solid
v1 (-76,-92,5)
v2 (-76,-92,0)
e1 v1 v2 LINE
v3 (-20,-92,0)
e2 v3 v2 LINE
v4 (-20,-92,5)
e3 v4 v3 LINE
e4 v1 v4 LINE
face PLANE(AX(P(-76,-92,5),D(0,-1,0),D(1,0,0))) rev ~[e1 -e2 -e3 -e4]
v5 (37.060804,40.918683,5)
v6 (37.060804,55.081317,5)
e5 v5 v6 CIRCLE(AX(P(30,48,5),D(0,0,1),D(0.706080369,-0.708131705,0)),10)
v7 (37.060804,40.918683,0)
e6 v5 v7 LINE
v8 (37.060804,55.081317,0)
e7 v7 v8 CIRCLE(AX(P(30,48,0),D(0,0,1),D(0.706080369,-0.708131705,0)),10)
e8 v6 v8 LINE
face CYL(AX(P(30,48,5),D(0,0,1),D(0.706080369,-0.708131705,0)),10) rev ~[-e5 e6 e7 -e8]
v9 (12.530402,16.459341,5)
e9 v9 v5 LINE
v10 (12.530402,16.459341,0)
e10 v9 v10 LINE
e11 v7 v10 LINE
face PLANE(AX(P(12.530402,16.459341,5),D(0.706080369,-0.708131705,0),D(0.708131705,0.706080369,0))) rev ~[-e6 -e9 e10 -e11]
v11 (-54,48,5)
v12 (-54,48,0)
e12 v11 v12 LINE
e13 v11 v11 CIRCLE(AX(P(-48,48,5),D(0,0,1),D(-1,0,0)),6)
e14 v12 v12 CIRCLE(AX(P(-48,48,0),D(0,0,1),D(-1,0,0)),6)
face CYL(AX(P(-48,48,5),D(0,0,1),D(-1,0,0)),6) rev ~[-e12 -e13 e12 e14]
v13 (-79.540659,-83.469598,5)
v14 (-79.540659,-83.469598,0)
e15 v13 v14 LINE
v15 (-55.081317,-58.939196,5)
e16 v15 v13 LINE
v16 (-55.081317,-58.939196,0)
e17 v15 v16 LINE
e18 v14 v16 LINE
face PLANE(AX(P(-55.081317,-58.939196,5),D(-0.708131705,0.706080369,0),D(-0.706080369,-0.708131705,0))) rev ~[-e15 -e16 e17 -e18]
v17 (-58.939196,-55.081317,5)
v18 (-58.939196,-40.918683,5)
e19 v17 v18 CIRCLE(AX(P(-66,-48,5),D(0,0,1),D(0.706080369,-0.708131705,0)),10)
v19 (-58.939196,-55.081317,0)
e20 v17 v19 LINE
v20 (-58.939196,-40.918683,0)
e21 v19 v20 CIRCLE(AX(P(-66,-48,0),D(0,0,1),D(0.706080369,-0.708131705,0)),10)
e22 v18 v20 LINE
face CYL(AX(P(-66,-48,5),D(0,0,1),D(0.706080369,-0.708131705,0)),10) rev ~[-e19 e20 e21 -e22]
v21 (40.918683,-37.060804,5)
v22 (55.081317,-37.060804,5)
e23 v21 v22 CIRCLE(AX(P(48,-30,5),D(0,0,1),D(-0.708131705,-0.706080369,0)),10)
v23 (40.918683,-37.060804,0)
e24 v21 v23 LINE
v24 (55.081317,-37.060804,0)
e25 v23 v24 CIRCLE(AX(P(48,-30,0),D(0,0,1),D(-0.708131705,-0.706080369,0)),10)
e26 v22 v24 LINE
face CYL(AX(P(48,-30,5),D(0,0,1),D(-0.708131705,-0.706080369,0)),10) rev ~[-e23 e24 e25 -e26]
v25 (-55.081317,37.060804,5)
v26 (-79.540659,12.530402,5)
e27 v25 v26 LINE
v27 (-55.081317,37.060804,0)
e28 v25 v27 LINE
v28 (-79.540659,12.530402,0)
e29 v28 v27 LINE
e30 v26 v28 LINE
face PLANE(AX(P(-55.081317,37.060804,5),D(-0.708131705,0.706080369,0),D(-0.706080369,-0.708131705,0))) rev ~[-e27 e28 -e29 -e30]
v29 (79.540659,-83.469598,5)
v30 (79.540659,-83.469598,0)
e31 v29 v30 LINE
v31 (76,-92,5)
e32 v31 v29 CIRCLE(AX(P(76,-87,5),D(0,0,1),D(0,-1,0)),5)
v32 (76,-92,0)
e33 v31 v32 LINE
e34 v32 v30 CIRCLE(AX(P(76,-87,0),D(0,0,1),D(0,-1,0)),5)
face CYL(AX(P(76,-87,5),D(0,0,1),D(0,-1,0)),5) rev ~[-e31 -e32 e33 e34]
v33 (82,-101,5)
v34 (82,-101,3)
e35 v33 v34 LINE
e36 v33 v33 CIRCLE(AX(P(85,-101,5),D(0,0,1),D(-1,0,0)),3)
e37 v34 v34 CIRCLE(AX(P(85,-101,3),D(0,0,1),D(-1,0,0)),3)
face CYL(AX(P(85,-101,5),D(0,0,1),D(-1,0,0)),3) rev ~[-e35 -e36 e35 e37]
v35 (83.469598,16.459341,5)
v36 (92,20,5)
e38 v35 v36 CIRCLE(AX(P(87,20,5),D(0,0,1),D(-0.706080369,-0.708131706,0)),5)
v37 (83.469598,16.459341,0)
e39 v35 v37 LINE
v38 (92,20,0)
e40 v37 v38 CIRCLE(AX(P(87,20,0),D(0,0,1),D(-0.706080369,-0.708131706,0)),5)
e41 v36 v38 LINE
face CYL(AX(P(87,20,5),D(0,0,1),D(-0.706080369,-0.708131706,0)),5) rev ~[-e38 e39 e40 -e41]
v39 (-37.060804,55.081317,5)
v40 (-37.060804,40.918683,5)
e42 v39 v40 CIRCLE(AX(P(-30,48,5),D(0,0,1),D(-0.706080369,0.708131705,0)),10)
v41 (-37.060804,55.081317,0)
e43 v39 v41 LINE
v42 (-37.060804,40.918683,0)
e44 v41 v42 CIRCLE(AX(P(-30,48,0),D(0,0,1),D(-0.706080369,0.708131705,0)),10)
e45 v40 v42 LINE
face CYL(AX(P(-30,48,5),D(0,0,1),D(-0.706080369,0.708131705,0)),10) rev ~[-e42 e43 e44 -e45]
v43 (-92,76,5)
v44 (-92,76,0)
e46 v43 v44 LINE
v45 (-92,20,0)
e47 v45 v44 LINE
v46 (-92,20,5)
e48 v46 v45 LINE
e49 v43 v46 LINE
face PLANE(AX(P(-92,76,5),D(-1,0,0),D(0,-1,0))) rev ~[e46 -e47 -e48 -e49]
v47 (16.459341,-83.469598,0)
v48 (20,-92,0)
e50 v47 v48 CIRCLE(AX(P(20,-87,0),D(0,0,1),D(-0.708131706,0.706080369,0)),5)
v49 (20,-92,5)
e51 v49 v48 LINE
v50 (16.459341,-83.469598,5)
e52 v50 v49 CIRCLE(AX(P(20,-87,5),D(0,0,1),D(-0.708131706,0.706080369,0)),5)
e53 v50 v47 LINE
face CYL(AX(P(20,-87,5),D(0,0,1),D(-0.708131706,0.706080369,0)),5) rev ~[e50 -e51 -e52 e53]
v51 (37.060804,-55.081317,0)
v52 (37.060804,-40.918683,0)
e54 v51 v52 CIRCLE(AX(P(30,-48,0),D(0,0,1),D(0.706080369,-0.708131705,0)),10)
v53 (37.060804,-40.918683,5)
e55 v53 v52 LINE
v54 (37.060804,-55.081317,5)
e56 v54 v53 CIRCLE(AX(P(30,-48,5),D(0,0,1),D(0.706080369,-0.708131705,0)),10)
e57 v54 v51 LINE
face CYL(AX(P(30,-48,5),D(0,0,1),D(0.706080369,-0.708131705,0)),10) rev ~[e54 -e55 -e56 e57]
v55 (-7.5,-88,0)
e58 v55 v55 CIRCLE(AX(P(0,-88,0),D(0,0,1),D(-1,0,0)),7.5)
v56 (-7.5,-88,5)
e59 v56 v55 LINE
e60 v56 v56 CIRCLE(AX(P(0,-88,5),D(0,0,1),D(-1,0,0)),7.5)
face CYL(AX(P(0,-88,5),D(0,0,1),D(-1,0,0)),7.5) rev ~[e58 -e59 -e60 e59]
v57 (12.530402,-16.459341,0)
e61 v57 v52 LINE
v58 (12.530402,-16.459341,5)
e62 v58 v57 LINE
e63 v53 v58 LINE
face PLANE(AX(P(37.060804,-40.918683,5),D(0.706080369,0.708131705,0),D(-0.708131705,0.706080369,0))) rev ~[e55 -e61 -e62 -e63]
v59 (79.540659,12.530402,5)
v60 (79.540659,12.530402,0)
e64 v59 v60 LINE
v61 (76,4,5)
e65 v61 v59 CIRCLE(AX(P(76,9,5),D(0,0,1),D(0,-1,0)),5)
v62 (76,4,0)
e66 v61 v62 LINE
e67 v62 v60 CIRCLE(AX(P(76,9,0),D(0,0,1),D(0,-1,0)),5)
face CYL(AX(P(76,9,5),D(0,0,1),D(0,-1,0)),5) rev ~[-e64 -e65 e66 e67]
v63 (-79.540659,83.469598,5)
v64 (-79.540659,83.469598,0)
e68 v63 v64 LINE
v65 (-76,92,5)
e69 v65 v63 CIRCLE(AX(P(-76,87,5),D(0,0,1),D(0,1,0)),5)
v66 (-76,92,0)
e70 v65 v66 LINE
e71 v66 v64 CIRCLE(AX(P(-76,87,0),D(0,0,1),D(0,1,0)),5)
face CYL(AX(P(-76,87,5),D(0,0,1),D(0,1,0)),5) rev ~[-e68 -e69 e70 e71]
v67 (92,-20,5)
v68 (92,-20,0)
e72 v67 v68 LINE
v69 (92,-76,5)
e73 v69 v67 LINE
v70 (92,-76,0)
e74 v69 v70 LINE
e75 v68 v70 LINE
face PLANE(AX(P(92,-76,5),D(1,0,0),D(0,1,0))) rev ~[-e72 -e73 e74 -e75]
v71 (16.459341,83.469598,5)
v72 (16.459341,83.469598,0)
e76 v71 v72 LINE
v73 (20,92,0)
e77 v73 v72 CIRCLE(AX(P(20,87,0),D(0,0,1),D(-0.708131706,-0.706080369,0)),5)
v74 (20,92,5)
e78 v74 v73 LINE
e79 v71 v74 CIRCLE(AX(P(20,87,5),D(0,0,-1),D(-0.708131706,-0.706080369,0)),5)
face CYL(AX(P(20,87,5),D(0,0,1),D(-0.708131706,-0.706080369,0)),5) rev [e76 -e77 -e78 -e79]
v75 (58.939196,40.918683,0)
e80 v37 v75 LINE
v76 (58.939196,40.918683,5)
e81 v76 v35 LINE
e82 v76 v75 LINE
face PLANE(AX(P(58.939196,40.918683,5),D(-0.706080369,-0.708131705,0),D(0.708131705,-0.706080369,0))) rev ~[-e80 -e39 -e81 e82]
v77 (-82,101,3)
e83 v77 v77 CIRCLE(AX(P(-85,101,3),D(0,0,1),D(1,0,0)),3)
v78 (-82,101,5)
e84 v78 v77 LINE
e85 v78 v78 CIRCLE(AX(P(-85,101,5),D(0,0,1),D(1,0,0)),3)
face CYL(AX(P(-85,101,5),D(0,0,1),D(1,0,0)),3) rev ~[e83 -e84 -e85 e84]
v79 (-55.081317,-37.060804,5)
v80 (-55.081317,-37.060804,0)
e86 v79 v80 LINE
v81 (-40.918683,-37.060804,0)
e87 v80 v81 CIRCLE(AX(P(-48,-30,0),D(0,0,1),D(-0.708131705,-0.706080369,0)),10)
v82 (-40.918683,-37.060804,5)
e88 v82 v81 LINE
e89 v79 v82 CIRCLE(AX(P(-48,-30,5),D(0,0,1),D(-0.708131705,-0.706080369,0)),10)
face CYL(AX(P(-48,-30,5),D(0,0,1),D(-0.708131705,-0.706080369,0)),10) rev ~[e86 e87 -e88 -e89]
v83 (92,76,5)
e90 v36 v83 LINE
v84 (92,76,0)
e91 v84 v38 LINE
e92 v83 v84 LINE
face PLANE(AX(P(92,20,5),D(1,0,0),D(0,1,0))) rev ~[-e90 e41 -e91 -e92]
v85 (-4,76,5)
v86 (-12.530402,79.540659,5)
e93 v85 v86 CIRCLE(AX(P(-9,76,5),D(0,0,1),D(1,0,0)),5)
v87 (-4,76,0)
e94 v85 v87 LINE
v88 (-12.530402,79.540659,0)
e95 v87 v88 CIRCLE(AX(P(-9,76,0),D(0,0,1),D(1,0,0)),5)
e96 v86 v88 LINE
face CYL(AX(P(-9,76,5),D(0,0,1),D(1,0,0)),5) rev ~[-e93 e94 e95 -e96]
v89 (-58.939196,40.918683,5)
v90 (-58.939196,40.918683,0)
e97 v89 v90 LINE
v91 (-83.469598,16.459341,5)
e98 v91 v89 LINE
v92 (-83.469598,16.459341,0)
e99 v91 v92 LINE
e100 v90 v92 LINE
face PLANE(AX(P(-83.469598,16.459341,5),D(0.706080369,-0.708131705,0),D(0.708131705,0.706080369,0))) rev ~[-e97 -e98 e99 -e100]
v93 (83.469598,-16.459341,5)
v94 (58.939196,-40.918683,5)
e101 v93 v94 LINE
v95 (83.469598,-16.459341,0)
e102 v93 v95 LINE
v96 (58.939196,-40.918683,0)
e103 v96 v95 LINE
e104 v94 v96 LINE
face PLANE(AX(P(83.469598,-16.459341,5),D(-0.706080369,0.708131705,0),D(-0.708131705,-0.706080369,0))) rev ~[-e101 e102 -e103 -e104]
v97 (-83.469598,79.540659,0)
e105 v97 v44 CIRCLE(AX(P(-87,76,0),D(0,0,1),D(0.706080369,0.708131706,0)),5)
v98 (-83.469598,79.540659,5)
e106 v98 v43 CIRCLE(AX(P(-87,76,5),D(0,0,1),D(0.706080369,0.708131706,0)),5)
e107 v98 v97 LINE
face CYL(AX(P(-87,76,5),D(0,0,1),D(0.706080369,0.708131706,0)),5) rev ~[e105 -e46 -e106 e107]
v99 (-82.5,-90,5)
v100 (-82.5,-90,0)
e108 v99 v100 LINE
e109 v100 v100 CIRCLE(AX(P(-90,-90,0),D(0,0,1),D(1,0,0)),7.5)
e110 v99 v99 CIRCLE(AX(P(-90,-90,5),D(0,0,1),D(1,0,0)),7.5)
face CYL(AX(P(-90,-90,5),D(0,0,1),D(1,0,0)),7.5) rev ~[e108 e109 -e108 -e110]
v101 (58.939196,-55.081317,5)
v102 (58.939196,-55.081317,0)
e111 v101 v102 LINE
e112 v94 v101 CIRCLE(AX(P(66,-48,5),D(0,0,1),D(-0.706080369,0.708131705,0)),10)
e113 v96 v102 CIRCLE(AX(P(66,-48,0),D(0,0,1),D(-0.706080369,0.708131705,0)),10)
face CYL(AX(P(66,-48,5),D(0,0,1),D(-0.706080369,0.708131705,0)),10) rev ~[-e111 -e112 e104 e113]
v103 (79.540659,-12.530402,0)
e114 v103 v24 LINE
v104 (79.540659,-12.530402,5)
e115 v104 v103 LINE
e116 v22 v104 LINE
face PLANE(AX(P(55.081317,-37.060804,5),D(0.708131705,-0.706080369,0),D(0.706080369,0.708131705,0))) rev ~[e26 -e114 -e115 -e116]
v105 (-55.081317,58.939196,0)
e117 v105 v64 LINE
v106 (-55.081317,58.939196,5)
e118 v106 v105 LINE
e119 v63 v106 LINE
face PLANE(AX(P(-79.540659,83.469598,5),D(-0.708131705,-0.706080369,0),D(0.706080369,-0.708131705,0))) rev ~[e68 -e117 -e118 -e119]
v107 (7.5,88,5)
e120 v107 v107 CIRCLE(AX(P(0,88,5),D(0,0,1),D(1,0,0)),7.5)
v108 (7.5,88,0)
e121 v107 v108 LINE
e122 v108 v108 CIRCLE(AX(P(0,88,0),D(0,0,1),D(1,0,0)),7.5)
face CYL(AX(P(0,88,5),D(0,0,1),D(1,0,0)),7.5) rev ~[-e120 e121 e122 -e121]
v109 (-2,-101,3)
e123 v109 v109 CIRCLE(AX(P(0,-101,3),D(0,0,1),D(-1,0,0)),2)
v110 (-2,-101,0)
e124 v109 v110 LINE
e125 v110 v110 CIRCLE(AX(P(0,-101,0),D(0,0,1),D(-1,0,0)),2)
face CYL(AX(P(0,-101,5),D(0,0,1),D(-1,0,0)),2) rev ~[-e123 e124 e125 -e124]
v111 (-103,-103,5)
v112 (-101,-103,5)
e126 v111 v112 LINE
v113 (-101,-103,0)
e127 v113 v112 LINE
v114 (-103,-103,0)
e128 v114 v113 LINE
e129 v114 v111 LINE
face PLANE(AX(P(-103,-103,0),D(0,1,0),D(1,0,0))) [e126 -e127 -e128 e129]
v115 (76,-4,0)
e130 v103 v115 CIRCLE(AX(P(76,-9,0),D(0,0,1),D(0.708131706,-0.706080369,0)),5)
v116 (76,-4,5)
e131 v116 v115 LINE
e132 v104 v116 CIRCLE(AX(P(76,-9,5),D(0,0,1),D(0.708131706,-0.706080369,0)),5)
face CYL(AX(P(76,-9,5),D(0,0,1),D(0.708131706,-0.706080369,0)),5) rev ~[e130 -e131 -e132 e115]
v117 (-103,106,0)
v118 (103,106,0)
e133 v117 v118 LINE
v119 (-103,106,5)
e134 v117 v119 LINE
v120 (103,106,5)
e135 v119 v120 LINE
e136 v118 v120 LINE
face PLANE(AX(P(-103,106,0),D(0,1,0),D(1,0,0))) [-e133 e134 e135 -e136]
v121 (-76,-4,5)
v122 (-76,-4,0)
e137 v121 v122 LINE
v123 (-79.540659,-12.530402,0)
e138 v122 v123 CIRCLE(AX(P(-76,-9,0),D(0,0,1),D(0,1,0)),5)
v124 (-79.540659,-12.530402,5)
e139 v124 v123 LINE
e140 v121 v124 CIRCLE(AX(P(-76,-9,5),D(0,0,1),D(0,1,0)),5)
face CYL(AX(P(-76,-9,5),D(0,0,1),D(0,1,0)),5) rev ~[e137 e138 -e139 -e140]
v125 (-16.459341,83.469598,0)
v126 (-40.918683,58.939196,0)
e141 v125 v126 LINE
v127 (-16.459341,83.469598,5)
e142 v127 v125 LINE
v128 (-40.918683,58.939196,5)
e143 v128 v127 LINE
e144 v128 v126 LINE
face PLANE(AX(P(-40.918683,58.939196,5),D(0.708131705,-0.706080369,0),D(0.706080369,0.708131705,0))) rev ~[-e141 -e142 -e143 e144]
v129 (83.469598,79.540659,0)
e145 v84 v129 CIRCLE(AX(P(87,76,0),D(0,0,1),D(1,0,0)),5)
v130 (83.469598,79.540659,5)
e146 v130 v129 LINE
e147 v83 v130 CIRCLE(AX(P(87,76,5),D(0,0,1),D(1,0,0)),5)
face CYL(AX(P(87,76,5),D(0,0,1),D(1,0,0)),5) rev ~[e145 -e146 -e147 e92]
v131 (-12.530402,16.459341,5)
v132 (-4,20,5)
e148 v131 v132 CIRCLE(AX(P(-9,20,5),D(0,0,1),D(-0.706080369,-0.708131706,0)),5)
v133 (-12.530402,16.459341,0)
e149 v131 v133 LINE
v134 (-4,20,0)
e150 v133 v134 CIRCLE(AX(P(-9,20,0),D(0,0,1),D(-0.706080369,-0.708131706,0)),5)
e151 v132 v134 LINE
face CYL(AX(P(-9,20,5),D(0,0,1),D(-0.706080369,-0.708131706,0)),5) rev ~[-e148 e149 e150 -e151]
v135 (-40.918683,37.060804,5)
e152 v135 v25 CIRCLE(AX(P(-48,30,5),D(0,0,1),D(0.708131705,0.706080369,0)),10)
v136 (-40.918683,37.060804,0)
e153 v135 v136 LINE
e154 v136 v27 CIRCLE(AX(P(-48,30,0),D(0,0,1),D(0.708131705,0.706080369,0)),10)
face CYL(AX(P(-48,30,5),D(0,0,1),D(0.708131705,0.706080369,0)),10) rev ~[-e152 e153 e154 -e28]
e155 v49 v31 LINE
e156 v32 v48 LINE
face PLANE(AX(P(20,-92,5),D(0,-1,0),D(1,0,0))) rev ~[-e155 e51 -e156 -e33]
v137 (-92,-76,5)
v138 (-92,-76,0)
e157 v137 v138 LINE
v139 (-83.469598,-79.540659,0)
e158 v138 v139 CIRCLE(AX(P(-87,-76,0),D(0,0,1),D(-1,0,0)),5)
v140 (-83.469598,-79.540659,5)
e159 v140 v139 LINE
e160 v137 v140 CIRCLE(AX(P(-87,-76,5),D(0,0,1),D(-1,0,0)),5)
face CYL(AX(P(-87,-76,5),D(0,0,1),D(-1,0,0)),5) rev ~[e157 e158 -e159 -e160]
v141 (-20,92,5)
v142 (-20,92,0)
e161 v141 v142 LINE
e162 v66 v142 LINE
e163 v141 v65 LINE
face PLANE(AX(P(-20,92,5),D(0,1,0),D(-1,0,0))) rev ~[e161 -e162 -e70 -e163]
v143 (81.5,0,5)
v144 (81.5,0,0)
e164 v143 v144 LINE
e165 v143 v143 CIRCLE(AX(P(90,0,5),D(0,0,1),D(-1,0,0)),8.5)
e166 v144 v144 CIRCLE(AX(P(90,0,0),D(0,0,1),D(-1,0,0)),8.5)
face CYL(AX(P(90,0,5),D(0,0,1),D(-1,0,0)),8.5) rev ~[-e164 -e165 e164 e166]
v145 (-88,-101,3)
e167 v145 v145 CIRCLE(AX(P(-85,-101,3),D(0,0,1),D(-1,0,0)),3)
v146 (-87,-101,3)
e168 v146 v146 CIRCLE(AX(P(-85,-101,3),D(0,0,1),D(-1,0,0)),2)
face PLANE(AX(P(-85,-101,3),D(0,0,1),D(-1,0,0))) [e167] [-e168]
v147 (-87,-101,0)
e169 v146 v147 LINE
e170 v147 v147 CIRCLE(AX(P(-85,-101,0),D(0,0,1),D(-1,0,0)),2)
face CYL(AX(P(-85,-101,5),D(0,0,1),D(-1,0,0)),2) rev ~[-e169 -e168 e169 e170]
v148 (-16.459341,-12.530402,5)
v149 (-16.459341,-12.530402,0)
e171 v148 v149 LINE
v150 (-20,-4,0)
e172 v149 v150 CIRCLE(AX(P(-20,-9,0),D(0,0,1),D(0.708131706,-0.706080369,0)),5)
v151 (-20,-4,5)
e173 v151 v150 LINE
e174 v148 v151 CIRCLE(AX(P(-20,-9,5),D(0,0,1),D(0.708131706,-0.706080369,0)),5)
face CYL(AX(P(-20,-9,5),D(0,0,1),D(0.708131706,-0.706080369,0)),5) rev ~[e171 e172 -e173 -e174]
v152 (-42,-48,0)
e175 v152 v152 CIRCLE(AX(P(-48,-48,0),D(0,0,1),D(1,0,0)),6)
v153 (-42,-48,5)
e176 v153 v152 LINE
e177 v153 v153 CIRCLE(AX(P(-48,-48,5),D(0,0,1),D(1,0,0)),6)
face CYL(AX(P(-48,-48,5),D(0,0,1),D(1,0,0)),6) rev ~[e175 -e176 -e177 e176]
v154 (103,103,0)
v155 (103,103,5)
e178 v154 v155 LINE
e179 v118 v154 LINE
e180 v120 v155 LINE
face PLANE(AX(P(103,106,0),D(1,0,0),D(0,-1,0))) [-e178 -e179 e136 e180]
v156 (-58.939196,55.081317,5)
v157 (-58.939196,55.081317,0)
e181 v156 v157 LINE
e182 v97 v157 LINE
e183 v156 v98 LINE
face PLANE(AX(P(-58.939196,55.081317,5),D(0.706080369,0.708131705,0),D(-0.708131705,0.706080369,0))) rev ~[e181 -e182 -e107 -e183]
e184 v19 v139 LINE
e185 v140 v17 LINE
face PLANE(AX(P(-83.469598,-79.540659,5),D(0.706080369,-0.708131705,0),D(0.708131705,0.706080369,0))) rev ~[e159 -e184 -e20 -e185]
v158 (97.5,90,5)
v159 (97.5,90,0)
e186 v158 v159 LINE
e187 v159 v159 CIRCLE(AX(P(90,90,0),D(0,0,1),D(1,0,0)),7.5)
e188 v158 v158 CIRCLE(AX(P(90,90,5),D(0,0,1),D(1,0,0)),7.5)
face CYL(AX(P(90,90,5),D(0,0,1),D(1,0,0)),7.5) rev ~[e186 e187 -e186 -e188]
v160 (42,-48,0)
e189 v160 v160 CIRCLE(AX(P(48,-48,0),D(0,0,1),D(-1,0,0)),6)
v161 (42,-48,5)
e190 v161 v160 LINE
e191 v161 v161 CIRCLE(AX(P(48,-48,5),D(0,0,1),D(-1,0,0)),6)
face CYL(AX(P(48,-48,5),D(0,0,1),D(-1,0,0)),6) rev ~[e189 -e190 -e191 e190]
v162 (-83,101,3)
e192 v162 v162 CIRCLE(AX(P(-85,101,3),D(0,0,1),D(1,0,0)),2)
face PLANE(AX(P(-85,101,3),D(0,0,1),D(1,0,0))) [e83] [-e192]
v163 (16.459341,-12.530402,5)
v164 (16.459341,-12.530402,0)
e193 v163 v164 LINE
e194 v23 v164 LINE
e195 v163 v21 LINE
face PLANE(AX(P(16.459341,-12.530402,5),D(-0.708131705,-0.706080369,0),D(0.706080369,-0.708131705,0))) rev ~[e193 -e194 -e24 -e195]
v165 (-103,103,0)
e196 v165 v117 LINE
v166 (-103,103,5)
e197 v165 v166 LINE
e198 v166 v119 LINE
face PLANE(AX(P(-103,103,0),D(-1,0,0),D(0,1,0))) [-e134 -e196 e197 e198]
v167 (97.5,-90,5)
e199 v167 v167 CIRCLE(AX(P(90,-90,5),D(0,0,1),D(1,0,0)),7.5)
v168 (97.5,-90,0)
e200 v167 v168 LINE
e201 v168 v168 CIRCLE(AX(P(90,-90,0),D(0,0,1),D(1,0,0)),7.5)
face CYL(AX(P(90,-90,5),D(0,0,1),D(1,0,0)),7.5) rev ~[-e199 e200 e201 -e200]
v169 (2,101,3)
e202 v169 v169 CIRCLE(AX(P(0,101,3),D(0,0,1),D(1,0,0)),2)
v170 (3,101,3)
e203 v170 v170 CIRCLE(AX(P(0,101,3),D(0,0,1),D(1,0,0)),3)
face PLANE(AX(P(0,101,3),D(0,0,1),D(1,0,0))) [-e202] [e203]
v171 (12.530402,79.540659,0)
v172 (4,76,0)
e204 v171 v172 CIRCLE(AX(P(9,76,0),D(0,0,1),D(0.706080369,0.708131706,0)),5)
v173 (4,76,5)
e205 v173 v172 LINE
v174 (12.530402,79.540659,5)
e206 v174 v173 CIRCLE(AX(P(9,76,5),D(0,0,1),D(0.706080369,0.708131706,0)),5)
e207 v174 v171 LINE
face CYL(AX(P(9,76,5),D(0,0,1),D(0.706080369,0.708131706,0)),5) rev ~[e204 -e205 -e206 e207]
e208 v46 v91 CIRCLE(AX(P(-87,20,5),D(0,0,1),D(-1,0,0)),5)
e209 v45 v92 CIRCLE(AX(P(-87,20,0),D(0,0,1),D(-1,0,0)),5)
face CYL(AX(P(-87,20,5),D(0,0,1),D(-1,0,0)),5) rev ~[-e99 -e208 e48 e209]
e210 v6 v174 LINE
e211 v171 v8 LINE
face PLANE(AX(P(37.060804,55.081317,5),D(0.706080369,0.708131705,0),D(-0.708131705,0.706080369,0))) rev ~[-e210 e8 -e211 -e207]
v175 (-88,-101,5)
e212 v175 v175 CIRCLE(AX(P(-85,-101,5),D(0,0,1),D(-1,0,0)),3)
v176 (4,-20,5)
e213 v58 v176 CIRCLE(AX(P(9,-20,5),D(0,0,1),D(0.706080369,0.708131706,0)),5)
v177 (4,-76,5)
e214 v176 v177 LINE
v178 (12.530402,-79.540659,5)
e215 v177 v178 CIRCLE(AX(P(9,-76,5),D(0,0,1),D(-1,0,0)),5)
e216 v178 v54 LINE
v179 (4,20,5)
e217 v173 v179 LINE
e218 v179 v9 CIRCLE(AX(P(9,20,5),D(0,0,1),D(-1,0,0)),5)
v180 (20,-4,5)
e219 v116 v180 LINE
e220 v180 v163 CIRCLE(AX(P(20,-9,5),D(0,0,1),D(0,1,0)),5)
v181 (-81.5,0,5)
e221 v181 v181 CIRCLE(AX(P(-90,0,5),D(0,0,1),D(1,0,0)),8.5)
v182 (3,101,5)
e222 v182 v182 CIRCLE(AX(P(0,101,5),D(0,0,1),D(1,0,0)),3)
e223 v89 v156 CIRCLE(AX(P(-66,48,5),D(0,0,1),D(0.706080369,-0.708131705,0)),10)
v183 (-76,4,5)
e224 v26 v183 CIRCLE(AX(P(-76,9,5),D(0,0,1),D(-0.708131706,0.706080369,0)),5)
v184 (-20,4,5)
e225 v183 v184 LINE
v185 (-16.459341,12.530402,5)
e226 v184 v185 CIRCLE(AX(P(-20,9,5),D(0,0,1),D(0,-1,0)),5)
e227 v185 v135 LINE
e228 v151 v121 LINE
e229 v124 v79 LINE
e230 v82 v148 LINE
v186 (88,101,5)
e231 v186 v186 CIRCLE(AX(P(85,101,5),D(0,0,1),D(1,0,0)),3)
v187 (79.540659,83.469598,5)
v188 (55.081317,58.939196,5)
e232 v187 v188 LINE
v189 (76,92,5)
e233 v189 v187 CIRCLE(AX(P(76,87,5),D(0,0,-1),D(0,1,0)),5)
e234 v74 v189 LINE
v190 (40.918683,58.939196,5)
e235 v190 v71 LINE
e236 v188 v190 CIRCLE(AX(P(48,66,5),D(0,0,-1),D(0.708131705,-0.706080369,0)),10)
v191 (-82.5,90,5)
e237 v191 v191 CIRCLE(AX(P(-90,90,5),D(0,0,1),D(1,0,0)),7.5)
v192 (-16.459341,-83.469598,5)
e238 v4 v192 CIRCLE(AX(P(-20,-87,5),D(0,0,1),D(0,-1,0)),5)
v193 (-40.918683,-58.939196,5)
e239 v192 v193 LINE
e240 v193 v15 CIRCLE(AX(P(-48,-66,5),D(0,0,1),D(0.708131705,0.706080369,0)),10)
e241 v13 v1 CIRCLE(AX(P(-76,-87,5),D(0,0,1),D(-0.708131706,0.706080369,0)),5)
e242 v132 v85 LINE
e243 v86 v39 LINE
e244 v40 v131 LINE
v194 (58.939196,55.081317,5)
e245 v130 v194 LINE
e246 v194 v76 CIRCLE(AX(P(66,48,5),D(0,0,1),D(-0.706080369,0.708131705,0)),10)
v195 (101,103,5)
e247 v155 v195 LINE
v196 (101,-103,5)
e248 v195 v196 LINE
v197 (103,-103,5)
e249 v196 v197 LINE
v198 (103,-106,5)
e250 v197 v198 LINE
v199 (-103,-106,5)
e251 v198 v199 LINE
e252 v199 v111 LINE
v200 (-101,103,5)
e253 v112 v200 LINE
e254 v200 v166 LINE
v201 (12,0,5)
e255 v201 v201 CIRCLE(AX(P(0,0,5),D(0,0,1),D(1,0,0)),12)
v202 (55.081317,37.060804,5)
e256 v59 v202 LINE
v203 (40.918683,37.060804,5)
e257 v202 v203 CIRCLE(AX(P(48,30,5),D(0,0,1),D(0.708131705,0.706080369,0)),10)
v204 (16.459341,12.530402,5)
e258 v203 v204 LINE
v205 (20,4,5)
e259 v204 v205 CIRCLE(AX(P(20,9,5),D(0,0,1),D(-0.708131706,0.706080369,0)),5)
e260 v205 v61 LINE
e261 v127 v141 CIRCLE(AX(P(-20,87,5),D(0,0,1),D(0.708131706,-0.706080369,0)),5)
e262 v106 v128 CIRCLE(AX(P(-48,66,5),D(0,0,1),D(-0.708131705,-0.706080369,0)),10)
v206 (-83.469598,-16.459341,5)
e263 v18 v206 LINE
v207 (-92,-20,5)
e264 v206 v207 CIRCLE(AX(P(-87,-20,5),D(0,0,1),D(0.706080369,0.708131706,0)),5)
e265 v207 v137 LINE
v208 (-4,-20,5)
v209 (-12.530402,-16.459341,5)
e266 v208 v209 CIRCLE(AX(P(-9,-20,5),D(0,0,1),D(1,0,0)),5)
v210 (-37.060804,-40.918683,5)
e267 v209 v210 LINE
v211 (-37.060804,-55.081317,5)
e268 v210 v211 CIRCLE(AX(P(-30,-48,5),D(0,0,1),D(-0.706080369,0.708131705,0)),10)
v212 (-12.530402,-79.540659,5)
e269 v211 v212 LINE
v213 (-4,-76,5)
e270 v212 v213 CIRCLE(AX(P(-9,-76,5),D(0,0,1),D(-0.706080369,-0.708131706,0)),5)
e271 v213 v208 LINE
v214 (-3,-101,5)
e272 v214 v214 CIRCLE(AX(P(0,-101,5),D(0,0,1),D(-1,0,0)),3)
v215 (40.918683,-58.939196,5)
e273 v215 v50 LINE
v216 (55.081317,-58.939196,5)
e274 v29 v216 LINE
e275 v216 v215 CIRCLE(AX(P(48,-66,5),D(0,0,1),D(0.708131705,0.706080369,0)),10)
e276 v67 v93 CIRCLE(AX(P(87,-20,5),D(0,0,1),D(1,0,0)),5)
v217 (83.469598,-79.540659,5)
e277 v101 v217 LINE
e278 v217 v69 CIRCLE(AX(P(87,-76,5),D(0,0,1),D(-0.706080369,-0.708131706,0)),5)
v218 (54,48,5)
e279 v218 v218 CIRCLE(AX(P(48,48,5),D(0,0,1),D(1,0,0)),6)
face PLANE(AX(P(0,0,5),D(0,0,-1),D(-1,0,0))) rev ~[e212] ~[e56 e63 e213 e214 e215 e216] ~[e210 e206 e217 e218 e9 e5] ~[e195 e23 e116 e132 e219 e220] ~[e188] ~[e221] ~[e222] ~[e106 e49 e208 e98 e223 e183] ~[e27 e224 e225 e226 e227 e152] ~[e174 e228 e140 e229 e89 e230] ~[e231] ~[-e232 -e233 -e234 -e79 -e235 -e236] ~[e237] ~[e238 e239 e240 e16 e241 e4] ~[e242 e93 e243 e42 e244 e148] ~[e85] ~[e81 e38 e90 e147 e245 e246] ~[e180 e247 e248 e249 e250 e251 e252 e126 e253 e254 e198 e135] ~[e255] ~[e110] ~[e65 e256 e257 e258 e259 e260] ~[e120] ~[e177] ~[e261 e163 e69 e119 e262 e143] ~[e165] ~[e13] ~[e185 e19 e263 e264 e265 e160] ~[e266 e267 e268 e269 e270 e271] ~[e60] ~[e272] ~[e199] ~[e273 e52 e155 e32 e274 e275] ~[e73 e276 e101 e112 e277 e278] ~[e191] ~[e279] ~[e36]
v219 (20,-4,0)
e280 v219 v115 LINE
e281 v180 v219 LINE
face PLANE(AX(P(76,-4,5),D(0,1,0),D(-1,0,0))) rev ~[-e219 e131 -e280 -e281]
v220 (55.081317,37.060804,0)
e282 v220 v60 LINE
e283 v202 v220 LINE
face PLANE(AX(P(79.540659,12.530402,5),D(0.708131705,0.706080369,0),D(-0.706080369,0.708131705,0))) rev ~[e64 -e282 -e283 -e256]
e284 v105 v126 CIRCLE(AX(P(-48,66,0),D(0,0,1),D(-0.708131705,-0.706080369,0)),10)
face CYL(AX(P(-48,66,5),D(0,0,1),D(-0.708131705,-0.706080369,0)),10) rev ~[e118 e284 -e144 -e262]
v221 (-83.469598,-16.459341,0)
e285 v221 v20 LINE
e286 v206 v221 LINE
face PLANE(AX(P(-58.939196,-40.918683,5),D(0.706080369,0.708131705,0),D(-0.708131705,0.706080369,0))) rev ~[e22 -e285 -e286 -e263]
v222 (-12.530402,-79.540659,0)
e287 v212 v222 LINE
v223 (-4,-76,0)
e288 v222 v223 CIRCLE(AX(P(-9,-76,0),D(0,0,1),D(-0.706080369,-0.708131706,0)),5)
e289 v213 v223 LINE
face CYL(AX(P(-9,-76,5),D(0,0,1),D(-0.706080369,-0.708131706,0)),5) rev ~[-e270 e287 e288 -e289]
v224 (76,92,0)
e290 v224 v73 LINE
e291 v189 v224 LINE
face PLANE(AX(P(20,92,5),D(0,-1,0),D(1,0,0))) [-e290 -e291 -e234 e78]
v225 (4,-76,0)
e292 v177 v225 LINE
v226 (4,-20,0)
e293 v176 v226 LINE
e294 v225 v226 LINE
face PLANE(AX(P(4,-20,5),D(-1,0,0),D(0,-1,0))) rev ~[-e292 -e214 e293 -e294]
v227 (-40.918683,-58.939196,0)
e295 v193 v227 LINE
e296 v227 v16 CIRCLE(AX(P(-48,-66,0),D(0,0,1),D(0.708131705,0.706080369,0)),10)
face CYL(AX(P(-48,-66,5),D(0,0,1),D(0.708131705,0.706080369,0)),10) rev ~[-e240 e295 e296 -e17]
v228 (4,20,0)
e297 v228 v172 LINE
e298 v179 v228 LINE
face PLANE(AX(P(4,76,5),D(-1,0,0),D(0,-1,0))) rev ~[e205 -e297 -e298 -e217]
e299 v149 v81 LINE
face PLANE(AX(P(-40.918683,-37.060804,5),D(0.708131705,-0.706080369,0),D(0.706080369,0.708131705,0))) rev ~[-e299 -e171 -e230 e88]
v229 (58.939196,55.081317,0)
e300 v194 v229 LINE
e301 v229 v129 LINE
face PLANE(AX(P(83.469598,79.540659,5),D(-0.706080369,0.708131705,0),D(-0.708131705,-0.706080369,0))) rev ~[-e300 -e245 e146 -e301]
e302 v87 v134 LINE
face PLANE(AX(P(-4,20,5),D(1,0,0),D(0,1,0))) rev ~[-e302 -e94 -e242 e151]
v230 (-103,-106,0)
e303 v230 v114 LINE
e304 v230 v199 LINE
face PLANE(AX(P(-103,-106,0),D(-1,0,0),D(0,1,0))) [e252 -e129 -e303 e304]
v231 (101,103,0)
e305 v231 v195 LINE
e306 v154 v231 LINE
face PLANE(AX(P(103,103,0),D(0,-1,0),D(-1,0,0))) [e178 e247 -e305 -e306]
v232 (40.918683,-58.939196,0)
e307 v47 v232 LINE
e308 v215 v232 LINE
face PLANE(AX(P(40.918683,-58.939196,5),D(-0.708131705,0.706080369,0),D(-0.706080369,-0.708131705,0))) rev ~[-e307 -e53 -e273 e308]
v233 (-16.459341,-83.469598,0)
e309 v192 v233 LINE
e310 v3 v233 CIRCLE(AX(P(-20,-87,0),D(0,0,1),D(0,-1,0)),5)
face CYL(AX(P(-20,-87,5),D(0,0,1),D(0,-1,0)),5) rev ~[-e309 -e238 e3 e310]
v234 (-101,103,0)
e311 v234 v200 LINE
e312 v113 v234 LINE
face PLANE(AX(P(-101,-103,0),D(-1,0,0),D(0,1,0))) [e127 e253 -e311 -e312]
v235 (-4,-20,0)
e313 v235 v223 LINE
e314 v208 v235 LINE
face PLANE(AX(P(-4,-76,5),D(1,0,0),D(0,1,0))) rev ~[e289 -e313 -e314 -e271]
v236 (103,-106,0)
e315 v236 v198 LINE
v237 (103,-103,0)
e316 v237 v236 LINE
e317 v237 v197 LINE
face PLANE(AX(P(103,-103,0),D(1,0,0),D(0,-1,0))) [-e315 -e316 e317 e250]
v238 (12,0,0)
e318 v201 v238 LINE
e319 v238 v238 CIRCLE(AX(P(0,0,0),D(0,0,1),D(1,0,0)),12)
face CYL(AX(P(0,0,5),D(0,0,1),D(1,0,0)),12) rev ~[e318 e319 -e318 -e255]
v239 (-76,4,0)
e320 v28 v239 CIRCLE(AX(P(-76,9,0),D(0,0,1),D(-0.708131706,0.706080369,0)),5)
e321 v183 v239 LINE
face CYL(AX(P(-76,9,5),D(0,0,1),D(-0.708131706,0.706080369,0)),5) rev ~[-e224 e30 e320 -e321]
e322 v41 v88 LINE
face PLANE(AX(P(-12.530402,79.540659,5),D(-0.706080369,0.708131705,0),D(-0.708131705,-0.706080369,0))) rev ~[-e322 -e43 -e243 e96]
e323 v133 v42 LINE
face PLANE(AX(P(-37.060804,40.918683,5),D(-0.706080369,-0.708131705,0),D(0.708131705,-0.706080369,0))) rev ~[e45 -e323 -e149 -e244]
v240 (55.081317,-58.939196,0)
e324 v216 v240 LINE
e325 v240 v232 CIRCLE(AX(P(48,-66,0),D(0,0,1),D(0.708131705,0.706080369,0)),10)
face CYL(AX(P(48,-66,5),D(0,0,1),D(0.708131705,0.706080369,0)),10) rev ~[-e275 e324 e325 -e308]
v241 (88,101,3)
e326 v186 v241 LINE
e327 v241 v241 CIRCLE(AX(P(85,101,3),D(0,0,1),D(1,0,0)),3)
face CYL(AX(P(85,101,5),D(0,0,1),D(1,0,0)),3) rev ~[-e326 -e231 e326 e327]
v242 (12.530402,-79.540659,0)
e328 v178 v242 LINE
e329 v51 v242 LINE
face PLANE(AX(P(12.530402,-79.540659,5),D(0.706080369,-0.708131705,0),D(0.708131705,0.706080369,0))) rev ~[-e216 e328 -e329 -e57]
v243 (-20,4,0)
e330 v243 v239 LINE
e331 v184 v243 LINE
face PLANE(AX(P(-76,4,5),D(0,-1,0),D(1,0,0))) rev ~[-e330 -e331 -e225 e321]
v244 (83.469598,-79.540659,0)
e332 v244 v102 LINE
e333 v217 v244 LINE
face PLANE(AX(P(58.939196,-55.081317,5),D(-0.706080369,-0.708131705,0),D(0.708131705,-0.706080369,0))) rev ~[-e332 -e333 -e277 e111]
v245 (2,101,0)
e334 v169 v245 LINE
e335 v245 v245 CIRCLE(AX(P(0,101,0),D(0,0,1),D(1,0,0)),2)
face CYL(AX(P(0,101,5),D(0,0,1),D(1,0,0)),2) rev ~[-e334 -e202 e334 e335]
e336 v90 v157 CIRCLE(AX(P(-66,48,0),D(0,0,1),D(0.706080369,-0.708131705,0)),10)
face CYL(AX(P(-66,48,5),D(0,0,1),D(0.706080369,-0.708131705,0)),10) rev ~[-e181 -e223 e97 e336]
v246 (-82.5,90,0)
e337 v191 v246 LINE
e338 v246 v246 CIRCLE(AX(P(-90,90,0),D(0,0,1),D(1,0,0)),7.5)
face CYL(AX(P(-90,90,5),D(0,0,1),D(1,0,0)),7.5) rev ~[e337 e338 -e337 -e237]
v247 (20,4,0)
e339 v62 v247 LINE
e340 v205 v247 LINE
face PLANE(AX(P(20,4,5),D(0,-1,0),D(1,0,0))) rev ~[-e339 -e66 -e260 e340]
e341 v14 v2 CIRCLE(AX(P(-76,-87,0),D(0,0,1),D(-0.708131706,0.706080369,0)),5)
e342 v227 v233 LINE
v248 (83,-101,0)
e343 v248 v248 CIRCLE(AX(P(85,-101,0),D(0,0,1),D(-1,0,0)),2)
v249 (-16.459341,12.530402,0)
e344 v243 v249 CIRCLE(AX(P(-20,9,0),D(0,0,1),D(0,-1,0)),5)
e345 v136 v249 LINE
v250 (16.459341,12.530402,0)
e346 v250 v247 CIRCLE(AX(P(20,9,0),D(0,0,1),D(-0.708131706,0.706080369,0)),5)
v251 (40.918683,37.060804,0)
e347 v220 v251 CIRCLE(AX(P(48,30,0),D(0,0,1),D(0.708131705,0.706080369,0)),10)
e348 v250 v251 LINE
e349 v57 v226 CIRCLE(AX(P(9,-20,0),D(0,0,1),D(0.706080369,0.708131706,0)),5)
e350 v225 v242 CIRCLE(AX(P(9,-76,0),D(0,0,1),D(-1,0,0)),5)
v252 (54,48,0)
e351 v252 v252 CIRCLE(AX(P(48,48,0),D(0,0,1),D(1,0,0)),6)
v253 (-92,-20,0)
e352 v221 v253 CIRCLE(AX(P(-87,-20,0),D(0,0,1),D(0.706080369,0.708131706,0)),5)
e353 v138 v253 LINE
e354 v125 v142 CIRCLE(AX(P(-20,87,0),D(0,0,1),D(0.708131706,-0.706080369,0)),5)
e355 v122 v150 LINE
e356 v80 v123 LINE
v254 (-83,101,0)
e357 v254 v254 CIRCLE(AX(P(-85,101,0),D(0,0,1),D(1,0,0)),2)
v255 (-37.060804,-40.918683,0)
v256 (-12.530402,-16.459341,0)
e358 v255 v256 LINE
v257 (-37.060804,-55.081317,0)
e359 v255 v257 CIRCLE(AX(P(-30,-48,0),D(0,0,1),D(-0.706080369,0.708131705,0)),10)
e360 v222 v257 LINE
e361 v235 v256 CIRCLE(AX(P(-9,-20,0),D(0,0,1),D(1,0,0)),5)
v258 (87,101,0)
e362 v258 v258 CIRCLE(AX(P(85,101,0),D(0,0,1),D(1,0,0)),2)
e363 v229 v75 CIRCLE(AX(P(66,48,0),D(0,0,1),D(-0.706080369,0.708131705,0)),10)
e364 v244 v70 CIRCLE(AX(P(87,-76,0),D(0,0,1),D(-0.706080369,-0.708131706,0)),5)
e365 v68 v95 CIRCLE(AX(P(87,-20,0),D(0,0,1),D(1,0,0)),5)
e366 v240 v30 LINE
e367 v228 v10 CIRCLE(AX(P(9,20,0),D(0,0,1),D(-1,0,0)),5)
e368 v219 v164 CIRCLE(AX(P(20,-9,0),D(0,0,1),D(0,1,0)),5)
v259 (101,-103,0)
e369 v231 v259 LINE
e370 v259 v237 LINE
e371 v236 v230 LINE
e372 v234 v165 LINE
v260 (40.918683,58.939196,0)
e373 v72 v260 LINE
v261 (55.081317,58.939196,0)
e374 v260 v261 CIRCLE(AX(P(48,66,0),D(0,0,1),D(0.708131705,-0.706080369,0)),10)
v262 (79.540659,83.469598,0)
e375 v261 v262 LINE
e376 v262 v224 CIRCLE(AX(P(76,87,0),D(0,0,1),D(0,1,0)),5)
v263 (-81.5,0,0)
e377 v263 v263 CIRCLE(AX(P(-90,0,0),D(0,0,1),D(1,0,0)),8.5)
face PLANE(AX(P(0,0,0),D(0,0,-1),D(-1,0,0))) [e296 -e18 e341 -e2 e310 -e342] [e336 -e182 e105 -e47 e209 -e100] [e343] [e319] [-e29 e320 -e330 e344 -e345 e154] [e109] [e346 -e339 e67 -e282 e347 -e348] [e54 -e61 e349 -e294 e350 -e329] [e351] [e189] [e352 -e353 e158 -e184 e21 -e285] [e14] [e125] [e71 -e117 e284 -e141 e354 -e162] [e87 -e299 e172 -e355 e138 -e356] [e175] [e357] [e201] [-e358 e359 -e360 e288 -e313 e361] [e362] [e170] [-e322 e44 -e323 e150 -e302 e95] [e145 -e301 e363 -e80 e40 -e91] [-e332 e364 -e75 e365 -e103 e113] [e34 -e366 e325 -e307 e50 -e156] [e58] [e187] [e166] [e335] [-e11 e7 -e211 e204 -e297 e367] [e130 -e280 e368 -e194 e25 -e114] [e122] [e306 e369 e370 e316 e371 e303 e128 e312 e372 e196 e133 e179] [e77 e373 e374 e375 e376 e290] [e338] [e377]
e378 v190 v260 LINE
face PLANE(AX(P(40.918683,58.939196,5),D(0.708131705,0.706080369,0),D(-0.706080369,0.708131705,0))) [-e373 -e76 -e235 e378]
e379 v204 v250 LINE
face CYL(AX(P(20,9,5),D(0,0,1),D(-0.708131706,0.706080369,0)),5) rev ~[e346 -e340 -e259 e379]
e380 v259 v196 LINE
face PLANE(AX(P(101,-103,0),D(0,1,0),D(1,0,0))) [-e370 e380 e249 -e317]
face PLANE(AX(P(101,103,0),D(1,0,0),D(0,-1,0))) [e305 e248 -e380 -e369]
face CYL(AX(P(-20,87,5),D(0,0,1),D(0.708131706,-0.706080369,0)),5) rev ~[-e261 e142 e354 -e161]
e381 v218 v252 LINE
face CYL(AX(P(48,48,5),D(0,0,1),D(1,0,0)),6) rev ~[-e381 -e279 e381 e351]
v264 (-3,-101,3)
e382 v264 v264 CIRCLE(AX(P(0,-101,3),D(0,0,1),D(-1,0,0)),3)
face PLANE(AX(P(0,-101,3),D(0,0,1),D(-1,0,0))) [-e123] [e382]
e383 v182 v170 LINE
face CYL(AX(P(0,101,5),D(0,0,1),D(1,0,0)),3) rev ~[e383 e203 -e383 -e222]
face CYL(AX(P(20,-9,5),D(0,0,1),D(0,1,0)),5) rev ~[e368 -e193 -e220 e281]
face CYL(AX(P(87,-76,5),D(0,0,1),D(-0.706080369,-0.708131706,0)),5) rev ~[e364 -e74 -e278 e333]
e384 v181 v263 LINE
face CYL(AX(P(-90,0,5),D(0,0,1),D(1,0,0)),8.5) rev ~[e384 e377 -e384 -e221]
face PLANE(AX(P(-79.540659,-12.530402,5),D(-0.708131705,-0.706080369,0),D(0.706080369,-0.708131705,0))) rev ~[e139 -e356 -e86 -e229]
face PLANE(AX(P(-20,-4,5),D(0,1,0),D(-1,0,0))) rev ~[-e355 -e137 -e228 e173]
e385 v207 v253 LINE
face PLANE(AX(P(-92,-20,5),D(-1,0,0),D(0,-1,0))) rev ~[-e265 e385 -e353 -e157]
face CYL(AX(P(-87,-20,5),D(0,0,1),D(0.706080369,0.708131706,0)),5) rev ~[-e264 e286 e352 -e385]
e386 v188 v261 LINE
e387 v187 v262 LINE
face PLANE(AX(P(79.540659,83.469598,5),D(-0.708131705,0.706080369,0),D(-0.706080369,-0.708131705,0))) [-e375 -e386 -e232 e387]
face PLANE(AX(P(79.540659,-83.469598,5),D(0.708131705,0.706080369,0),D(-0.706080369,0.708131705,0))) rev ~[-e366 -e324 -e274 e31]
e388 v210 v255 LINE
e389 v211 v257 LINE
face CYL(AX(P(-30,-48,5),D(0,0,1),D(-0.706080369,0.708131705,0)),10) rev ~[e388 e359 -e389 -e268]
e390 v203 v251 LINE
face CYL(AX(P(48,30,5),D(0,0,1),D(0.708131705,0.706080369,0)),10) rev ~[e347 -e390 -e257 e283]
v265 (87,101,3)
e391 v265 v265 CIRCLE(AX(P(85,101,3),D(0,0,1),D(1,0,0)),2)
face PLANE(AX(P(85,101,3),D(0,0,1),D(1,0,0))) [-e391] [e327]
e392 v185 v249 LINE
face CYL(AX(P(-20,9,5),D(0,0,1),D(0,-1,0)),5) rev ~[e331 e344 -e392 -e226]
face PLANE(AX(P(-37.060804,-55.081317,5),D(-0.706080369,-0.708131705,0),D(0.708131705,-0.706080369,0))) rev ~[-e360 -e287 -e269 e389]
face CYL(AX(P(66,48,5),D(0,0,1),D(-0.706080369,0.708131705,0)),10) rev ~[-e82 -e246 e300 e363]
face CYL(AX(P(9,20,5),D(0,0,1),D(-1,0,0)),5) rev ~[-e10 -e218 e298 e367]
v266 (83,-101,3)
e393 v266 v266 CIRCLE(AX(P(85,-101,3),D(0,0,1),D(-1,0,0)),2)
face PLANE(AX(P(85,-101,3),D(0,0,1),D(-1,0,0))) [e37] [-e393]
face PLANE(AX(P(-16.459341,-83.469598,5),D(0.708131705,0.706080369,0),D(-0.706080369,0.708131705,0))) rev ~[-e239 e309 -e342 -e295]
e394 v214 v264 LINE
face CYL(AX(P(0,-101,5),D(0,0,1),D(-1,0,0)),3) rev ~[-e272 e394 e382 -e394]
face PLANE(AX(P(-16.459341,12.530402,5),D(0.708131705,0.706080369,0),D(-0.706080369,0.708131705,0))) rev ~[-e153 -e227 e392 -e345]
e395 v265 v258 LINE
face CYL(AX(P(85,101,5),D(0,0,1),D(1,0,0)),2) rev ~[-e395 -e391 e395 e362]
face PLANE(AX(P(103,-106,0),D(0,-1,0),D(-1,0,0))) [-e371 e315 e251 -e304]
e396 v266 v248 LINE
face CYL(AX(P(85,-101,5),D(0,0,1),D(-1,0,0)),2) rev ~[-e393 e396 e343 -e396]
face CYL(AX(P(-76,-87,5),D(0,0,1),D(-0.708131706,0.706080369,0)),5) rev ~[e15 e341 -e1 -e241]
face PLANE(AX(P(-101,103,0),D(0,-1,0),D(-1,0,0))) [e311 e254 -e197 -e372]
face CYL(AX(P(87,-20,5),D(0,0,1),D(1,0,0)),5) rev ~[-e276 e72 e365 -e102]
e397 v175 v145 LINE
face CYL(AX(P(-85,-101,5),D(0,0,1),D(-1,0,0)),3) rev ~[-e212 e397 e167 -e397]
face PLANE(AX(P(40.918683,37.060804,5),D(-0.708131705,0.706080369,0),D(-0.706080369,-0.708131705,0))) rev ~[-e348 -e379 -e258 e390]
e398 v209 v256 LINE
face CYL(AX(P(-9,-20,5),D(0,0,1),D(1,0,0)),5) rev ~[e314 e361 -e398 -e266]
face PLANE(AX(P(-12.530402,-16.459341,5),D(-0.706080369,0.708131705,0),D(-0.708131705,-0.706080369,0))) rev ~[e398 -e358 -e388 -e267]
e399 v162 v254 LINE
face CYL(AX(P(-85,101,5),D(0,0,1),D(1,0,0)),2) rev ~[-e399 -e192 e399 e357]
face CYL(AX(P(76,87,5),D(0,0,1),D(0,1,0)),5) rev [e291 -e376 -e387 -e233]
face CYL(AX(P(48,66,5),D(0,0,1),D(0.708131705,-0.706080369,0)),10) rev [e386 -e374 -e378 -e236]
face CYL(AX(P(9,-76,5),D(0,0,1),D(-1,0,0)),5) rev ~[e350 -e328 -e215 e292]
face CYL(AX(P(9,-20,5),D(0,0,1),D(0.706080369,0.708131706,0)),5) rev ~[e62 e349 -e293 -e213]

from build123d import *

# Parameters (mm, degrees)
P_IDAT_VYSUNUT_M1_DEPTH  = 5
SKICA2_R                 = 2
ODEBRAT_VYSUNUT_M1_DEPTH = 148.885090526
SKICA4_R                 = 6
ODEBRAT_VYSUNUT_M3_DEPTH = 10
SKICA5_R                 = 3
ODEBRAT_VYSUNUT_M4_DEPTH = 2
SKICA6_R                 = 12
SKICA6_R_2               = 8.5
SKICA6_R_3               = 7.5
ODEBRAT_VYSUNUT_M5_DEPTH = 148.885090526


with BuildPart() as part:
    # Skica1 → Přidat vysunutím1 (new body)
    with BuildSketch(Plane.XY):
        Polygon((-103, 106), (103, 106), (103, 103), (101, 103), (101, -103), (103, -103), (103, -106), (-103, -106), (-103, -103), (-101, -103), (-101, 103), (-103, 103), align=None)
    extrude(amount=P_IDAT_VYSUNUT_M1_DEPTH)

    # Skica2 → Odebrat vysunutím1 (cut, through all)
    with BuildSketch(Plane.XY.offset(5)):
        with Locations((-85, 101)):
            Circle(SKICA2_R)
        with Locations((0, 101)):
            Circle(SKICA2_R)
        with Locations((85, 101)):
            Circle(SKICA2_R)
        with Locations(Location((-85, -101, 0), (0, 0, 180))):
            Circle(SKICA2_R)
        with Locations(Location((0, -101, 0), (0, 0, 180))):
            Circle(SKICA2_R)
        with Locations(Location((85, -101, 0), (0, 0, 180))):
            Circle(SKICA2_R)
    extrude(amount=-ODEBRAT_VYSUNUT_M1_DEPTH, mode=Mode.SUBTRACT)

    # Skica4 → Odebrat vysunutím3 (cut)
    with BuildSketch(Plane.XY.offset(5)):
        with Locations((48, 48)):
            Circle(SKICA4_R)
        with Locations(Location((-48, 48, 0), (0, 0, 180))):
            Circle(SKICA4_R)
        with Locations(Location((48, -48, 0), (0, 0, 180))):
            Circle(SKICA4_R)
        with Locations((-48, -48)):
            Circle(SKICA4_R)
        with BuildLine():
            Line((40.918682945, 58.939196308), (16.459341473, 83.469598154))
            ThreePointArc((16.459341473, 83.469598154), (15.381991272, 88.916766909), (20, 92))
            Line((20, 92), (76, 92))
            ThreePointArc((76, 92), (80.618008728, 88.916766909), (79.540658527, 83.469598154))
            Line((79.540658527, 83.469598154), (55.081317055, 58.939196308))
            ThreePointArc((55.081317055, 58.939196308), (48, 56), (40.918682945, 58.939196308))
        make_face()
        with BuildLine():
            Line((37.060803692, 55.081317055), (12.530401846, 79.540658527))
            ThreePointArc((12.530401846, 79.540658527), (7.083233091, 80.618008728), (4, 76))
            Line((4, 76), (4, 20))
            ThreePointArc((4, 20), (7.083233091, 15.381991272), (12.530401846, 16.459341473))
            Line((12.530401846, 16.459341473), (37.060803692, 40.918682945))
            ThreePointArc((37.060803692, 40.918682945), (40, 48), (37.060803692, 55.081317055))
        make_face()
        with BuildLine():
            Line((58.939196308, 40.918682945), (83.469598154, 16.459341473))
            ThreePointArc((83.469598154, 16.459341473), (88.916766909, 15.381991272), (92, 20))
            Line((92, 20), (92, 76))
            ThreePointArc((92, 76), (88.916766909, 80.618008728), (83.469598154, 79.540658527))
            Line((83.469598154, 79.540658527), (58.939196308, 55.081317055))
            ThreePointArc((58.939196308, 55.081317055), (56, 48), (58.939196308, 40.918682945))
        make_face()
        with BuildLine():
            Line((40.918682945, 37.060803692), (16.459341473, 12.530401846))
            ThreePointArc((16.459341473, 12.530401846), (15.381991272, 7.083233091), (20, 4))
            Line((20, 4), (76, 4))
            ThreePointArc((76, 4), (80.618008728, 7.083233091), (79.540658527, 12.530401846))
            Line((79.540658527, 12.530401846), (55.081317055, 37.060803692))
            ThreePointArc((55.081317055, 37.060803692), (48, 40), (40.918682945, 37.060803692))
        make_face()
        with BuildLine():
            Line((-40.918682945, 58.939196308), (-16.459341473, 83.469598154))
            ThreePointArc((-16.459341473, 83.469598154), (-15.381991272, 88.916766909), (-20, 92))
            Line((-20, 92), (-76, 92))
            ThreePointArc((-76, 92), (-80.618008728, 88.916766909), (-79.540658527, 83.469598154))
            Line((-79.540658527, 83.469598154), (-55.081317055, 58.939196308))
            ThreePointArc((-55.081317055, 58.939196308), (-48, 56), (-40.918682945, 58.939196308))
        make_face()
        with BuildLine():
            Line((-58.939196308, 55.081317055), (-83.469598154, 79.540658527))
            ThreePointArc((-83.469598154, 79.540658527), (-88.916766909, 80.618008728), (-92, 76))
            Line((-92, 76), (-92, 20))
            ThreePointArc((-92, 20), (-88.916766909, 15.381991272), (-83.469598154, 16.459341473))
            Line((-83.469598154, 16.459341473), (-58.939196308, 40.918682945))
            ThreePointArc((-58.939196308, 40.918682945), (-56, 48), (-58.939196308, 55.081317055))
        make_face()
        with BuildLine():
            Line((-55.081317055, 37.060803692), (-79.540658527, 12.530401846))
            ThreePointArc((-79.540658527, 12.530401846), (-80.618008728, 7.083233091), (-76, 4))
            Line((-76, 4), (-20, 4))
            ThreePointArc((-20, 4), (-15.381991272, 7.083233091), (-16.459341473, 12.530401846))
            Line((-16.459341473, 12.530401846), (-40.918682945, 37.060803692))
            ThreePointArc((-40.918682945, 37.060803692), (-48, 40), (-55.081317055, 37.060803692))
        make_face()
        with BuildLine():
            Line((-37.060803692, 40.918682945), (-12.530401846, 16.459341473))
            ThreePointArc((-12.530401846, 16.459341473), (-7.083233091, 15.381991272), (-4, 20))
            Line((-4, 20), (-4, 76))
            ThreePointArc((-4, 76), (-7.083233091, 80.618008728), (-12.530401846, 79.540658527))
            Line((-12.530401846, 79.540658527), (-37.060803692, 55.081317055))
            ThreePointArc((-37.060803692, 55.081317055), (-40, 48), (-37.060803692, 40.918682945))
        make_face()
        with BuildLine():
            Line((40.918682945, -58.939196308), (16.459341473, -83.469598154))
            ThreePointArc((16.459341473, -83.469598154), (15.381991272, -88.916766909), (20, -92))
            Line((20, -92), (76, -92))
            ThreePointArc((76, -92), (80.618008728, -88.916766909), (79.540658527, -83.469598154))
            Line((79.540658527, -83.469598154), (55.081317055, -58.939196308))
            ThreePointArc((55.081317055, -58.939196308), (48, -56), (40.918682945, -58.939196308))
        make_face()
        with BuildLine():
            Line((58.939196308, -55.081317055), (83.469598154, -79.540658527))
            ThreePointArc((83.469598154, -79.540658527), (88.916766909, -80.618008728), (92, -76))
            Line((92, -76), (92, -20))
            ThreePointArc((92, -20), (88.916766909, -15.381991272), (83.469598154, -16.459341473))
            Line((83.469598154, -16.459341473), (58.939196308, -40.918682945))
            ThreePointArc((58.939196308, -40.918682945), (56, -48), (58.939196308, -55.081317055))
        make_face()
        with BuildLine():
            Line((55.081317055, -37.060803692), (79.540658527, -12.530401846))
            ThreePointArc((79.540658527, -12.530401846), (80.618008728, -7.083233091), (76, -4))
            Line((76, -4), (20, -4))
            ThreePointArc((20, -4), (15.381991272, -7.083233091), (16.459341473, -12.530401846))
            Line((16.459341473, -12.530401846), (40.918682945, -37.060803692))
            ThreePointArc((40.918682945, -37.060803692), (48, -40), (55.081317055, -37.060803692))
        make_face()
        with BuildLine():
            Line((37.060803692, -40.918682945), (12.530401846, -16.459341473))
            ThreePointArc((12.530401846, -16.459341473), (7.083233091, -15.381991272), (4, -20))
            Line((4, -20), (4, -76))
            ThreePointArc((4, -76), (7.083233091, -80.618008728), (12.530401846, -79.540658527))
            Line((12.530401846, -79.540658527), (37.060803692, -55.081317055))
            ThreePointArc((37.060803692, -55.081317055), (40, -48), (37.060803692, -40.918682945))
        make_face()
        with BuildLine():
            Line((-37.060803692, -55.081317055), (-12.530401846, -79.540658527))
            ThreePointArc((-12.530401846, -79.540658527), (-7.083233091, -80.618008728), (-4, -76))
            Line((-4, -76), (-4, -20))
            ThreePointArc((-4, -20), (-7.083233091, -15.381991272), (-12.530401846, -16.459341473))
            Line((-12.530401846, -16.459341473), (-37.060803692, -40.918682945))
            ThreePointArc((-37.060803692, -40.918682945), (-40, -48), (-37.060803692, -55.081317055))
        make_face()
        with BuildLine():
            Line((-55.081317055, -58.939196308), (-79.540658527, -83.469598154))
            ThreePointArc((-79.540658527, -83.469598154), (-80.618008728, -88.916766909), (-76, -92))
            Line((-76, -92), (-20, -92))
            ThreePointArc((-20, -92), (-15.381991272, -88.916766909), (-16.459341473, -83.469598154))
            Line((-16.459341473, -83.469598154), (-40.918682945, -58.939196308))
            ThreePointArc((-40.918682945, -58.939196308), (-48, -56), (-55.081317055, -58.939196308))
        make_face()
        with BuildLine():
            Line((-58.939196308, -40.918682945), (-83.469598154, -16.459341473))
            ThreePointArc((-83.469598154, -16.459341473), (-88.916766909, -15.381991272), (-92, -20))
            Line((-92, -20), (-92, -76))
            ThreePointArc((-92, -76), (-88.916766909, -80.618008728), (-83.469598154, -79.540658527))
            Line((-83.469598154, -79.540658527), (-58.939196308, -55.081317055))
            ThreePointArc((-58.939196308, -55.081317055), (-56, -48), (-58.939196308, -40.918682945))
        make_face()
        with BuildLine():
            Line((-40.918682945, -37.060803692), (-16.459341473, -12.530401846))
            ThreePointArc((-16.459341473, -12.530401846), (-15.381991272, -7.083233091), (-20, -4))
            Line((-20, -4), (-76, -4))
            ThreePointArc((-76, -4), (-80.618008728, -7.083233091), (-79.540658527, -12.530401846))
            Line((-79.540658527, -12.530401846), (-55.081317055, -37.060803692))
            ThreePointArc((-55.081317055, -37.060803692), (-48, -40), (-40.918682945, -37.060803692))
        make_face()
    extrude(amount=-ODEBRAT_VYSUNUT_M3_DEPTH, mode=Mode.SUBTRACT)

    # Skica5 → Odebrat vysunutím4 (cut)
    with BuildSketch(Plane.XY.offset(5)):
        with Locations((-85, 101)):
            Circle(SKICA5_R)
        with Locations((0, 101)):
            Circle(SKICA5_R)
        with Locations((85, 101)):
            Circle(SKICA5_R)
        with Locations(Location((-85, -101, 0), (0, 0, 180))):
            Circle(SKICA5_R)
        with Locations(Location((0, -101, 0), (0, 0, 180))):
            Circle(SKICA5_R)
        with Locations(Location((85, -101, 0), (0, 0, 180))):
            Circle(SKICA5_R)
    extrude(amount=-ODEBRAT_VYSUNUT_M4_DEPTH, mode=Mode.SUBTRACT)

    # Skica6 → Odebrat vysunutím5 (cut, through all)
    with BuildSketch(Plane.XY.offset(5)):
        Circle(SKICA6_R)
        with Locations((-90, 0)):
            Circle(SKICA6_R_2)
        with Locations(Location((90, 0, 0), (0, 0, 180))):
            Circle(SKICA6_R_2)
        with Locations((-90, 90)):
            Circle(SKICA6_R_3)
        with Locations((90, 90)):
            Circle(SKICA6_R_3)
        with Locations((90, -90)):
            Circle(SKICA6_R_3)
        with Locations((-90, -90)):
            Circle(SKICA6_R_3)
        with Locations((0, 88)):
            Circle(SKICA6_R_3)
        with Locations(Location((0, -88, 0), (0, 0, 180))):
            Circle(SKICA6_R_3)
    extrude(amount=-ODEBRAT_VYSUNUT_M5_DEPTH, mode=Mode.SUBTRACT)


solid = part.part
